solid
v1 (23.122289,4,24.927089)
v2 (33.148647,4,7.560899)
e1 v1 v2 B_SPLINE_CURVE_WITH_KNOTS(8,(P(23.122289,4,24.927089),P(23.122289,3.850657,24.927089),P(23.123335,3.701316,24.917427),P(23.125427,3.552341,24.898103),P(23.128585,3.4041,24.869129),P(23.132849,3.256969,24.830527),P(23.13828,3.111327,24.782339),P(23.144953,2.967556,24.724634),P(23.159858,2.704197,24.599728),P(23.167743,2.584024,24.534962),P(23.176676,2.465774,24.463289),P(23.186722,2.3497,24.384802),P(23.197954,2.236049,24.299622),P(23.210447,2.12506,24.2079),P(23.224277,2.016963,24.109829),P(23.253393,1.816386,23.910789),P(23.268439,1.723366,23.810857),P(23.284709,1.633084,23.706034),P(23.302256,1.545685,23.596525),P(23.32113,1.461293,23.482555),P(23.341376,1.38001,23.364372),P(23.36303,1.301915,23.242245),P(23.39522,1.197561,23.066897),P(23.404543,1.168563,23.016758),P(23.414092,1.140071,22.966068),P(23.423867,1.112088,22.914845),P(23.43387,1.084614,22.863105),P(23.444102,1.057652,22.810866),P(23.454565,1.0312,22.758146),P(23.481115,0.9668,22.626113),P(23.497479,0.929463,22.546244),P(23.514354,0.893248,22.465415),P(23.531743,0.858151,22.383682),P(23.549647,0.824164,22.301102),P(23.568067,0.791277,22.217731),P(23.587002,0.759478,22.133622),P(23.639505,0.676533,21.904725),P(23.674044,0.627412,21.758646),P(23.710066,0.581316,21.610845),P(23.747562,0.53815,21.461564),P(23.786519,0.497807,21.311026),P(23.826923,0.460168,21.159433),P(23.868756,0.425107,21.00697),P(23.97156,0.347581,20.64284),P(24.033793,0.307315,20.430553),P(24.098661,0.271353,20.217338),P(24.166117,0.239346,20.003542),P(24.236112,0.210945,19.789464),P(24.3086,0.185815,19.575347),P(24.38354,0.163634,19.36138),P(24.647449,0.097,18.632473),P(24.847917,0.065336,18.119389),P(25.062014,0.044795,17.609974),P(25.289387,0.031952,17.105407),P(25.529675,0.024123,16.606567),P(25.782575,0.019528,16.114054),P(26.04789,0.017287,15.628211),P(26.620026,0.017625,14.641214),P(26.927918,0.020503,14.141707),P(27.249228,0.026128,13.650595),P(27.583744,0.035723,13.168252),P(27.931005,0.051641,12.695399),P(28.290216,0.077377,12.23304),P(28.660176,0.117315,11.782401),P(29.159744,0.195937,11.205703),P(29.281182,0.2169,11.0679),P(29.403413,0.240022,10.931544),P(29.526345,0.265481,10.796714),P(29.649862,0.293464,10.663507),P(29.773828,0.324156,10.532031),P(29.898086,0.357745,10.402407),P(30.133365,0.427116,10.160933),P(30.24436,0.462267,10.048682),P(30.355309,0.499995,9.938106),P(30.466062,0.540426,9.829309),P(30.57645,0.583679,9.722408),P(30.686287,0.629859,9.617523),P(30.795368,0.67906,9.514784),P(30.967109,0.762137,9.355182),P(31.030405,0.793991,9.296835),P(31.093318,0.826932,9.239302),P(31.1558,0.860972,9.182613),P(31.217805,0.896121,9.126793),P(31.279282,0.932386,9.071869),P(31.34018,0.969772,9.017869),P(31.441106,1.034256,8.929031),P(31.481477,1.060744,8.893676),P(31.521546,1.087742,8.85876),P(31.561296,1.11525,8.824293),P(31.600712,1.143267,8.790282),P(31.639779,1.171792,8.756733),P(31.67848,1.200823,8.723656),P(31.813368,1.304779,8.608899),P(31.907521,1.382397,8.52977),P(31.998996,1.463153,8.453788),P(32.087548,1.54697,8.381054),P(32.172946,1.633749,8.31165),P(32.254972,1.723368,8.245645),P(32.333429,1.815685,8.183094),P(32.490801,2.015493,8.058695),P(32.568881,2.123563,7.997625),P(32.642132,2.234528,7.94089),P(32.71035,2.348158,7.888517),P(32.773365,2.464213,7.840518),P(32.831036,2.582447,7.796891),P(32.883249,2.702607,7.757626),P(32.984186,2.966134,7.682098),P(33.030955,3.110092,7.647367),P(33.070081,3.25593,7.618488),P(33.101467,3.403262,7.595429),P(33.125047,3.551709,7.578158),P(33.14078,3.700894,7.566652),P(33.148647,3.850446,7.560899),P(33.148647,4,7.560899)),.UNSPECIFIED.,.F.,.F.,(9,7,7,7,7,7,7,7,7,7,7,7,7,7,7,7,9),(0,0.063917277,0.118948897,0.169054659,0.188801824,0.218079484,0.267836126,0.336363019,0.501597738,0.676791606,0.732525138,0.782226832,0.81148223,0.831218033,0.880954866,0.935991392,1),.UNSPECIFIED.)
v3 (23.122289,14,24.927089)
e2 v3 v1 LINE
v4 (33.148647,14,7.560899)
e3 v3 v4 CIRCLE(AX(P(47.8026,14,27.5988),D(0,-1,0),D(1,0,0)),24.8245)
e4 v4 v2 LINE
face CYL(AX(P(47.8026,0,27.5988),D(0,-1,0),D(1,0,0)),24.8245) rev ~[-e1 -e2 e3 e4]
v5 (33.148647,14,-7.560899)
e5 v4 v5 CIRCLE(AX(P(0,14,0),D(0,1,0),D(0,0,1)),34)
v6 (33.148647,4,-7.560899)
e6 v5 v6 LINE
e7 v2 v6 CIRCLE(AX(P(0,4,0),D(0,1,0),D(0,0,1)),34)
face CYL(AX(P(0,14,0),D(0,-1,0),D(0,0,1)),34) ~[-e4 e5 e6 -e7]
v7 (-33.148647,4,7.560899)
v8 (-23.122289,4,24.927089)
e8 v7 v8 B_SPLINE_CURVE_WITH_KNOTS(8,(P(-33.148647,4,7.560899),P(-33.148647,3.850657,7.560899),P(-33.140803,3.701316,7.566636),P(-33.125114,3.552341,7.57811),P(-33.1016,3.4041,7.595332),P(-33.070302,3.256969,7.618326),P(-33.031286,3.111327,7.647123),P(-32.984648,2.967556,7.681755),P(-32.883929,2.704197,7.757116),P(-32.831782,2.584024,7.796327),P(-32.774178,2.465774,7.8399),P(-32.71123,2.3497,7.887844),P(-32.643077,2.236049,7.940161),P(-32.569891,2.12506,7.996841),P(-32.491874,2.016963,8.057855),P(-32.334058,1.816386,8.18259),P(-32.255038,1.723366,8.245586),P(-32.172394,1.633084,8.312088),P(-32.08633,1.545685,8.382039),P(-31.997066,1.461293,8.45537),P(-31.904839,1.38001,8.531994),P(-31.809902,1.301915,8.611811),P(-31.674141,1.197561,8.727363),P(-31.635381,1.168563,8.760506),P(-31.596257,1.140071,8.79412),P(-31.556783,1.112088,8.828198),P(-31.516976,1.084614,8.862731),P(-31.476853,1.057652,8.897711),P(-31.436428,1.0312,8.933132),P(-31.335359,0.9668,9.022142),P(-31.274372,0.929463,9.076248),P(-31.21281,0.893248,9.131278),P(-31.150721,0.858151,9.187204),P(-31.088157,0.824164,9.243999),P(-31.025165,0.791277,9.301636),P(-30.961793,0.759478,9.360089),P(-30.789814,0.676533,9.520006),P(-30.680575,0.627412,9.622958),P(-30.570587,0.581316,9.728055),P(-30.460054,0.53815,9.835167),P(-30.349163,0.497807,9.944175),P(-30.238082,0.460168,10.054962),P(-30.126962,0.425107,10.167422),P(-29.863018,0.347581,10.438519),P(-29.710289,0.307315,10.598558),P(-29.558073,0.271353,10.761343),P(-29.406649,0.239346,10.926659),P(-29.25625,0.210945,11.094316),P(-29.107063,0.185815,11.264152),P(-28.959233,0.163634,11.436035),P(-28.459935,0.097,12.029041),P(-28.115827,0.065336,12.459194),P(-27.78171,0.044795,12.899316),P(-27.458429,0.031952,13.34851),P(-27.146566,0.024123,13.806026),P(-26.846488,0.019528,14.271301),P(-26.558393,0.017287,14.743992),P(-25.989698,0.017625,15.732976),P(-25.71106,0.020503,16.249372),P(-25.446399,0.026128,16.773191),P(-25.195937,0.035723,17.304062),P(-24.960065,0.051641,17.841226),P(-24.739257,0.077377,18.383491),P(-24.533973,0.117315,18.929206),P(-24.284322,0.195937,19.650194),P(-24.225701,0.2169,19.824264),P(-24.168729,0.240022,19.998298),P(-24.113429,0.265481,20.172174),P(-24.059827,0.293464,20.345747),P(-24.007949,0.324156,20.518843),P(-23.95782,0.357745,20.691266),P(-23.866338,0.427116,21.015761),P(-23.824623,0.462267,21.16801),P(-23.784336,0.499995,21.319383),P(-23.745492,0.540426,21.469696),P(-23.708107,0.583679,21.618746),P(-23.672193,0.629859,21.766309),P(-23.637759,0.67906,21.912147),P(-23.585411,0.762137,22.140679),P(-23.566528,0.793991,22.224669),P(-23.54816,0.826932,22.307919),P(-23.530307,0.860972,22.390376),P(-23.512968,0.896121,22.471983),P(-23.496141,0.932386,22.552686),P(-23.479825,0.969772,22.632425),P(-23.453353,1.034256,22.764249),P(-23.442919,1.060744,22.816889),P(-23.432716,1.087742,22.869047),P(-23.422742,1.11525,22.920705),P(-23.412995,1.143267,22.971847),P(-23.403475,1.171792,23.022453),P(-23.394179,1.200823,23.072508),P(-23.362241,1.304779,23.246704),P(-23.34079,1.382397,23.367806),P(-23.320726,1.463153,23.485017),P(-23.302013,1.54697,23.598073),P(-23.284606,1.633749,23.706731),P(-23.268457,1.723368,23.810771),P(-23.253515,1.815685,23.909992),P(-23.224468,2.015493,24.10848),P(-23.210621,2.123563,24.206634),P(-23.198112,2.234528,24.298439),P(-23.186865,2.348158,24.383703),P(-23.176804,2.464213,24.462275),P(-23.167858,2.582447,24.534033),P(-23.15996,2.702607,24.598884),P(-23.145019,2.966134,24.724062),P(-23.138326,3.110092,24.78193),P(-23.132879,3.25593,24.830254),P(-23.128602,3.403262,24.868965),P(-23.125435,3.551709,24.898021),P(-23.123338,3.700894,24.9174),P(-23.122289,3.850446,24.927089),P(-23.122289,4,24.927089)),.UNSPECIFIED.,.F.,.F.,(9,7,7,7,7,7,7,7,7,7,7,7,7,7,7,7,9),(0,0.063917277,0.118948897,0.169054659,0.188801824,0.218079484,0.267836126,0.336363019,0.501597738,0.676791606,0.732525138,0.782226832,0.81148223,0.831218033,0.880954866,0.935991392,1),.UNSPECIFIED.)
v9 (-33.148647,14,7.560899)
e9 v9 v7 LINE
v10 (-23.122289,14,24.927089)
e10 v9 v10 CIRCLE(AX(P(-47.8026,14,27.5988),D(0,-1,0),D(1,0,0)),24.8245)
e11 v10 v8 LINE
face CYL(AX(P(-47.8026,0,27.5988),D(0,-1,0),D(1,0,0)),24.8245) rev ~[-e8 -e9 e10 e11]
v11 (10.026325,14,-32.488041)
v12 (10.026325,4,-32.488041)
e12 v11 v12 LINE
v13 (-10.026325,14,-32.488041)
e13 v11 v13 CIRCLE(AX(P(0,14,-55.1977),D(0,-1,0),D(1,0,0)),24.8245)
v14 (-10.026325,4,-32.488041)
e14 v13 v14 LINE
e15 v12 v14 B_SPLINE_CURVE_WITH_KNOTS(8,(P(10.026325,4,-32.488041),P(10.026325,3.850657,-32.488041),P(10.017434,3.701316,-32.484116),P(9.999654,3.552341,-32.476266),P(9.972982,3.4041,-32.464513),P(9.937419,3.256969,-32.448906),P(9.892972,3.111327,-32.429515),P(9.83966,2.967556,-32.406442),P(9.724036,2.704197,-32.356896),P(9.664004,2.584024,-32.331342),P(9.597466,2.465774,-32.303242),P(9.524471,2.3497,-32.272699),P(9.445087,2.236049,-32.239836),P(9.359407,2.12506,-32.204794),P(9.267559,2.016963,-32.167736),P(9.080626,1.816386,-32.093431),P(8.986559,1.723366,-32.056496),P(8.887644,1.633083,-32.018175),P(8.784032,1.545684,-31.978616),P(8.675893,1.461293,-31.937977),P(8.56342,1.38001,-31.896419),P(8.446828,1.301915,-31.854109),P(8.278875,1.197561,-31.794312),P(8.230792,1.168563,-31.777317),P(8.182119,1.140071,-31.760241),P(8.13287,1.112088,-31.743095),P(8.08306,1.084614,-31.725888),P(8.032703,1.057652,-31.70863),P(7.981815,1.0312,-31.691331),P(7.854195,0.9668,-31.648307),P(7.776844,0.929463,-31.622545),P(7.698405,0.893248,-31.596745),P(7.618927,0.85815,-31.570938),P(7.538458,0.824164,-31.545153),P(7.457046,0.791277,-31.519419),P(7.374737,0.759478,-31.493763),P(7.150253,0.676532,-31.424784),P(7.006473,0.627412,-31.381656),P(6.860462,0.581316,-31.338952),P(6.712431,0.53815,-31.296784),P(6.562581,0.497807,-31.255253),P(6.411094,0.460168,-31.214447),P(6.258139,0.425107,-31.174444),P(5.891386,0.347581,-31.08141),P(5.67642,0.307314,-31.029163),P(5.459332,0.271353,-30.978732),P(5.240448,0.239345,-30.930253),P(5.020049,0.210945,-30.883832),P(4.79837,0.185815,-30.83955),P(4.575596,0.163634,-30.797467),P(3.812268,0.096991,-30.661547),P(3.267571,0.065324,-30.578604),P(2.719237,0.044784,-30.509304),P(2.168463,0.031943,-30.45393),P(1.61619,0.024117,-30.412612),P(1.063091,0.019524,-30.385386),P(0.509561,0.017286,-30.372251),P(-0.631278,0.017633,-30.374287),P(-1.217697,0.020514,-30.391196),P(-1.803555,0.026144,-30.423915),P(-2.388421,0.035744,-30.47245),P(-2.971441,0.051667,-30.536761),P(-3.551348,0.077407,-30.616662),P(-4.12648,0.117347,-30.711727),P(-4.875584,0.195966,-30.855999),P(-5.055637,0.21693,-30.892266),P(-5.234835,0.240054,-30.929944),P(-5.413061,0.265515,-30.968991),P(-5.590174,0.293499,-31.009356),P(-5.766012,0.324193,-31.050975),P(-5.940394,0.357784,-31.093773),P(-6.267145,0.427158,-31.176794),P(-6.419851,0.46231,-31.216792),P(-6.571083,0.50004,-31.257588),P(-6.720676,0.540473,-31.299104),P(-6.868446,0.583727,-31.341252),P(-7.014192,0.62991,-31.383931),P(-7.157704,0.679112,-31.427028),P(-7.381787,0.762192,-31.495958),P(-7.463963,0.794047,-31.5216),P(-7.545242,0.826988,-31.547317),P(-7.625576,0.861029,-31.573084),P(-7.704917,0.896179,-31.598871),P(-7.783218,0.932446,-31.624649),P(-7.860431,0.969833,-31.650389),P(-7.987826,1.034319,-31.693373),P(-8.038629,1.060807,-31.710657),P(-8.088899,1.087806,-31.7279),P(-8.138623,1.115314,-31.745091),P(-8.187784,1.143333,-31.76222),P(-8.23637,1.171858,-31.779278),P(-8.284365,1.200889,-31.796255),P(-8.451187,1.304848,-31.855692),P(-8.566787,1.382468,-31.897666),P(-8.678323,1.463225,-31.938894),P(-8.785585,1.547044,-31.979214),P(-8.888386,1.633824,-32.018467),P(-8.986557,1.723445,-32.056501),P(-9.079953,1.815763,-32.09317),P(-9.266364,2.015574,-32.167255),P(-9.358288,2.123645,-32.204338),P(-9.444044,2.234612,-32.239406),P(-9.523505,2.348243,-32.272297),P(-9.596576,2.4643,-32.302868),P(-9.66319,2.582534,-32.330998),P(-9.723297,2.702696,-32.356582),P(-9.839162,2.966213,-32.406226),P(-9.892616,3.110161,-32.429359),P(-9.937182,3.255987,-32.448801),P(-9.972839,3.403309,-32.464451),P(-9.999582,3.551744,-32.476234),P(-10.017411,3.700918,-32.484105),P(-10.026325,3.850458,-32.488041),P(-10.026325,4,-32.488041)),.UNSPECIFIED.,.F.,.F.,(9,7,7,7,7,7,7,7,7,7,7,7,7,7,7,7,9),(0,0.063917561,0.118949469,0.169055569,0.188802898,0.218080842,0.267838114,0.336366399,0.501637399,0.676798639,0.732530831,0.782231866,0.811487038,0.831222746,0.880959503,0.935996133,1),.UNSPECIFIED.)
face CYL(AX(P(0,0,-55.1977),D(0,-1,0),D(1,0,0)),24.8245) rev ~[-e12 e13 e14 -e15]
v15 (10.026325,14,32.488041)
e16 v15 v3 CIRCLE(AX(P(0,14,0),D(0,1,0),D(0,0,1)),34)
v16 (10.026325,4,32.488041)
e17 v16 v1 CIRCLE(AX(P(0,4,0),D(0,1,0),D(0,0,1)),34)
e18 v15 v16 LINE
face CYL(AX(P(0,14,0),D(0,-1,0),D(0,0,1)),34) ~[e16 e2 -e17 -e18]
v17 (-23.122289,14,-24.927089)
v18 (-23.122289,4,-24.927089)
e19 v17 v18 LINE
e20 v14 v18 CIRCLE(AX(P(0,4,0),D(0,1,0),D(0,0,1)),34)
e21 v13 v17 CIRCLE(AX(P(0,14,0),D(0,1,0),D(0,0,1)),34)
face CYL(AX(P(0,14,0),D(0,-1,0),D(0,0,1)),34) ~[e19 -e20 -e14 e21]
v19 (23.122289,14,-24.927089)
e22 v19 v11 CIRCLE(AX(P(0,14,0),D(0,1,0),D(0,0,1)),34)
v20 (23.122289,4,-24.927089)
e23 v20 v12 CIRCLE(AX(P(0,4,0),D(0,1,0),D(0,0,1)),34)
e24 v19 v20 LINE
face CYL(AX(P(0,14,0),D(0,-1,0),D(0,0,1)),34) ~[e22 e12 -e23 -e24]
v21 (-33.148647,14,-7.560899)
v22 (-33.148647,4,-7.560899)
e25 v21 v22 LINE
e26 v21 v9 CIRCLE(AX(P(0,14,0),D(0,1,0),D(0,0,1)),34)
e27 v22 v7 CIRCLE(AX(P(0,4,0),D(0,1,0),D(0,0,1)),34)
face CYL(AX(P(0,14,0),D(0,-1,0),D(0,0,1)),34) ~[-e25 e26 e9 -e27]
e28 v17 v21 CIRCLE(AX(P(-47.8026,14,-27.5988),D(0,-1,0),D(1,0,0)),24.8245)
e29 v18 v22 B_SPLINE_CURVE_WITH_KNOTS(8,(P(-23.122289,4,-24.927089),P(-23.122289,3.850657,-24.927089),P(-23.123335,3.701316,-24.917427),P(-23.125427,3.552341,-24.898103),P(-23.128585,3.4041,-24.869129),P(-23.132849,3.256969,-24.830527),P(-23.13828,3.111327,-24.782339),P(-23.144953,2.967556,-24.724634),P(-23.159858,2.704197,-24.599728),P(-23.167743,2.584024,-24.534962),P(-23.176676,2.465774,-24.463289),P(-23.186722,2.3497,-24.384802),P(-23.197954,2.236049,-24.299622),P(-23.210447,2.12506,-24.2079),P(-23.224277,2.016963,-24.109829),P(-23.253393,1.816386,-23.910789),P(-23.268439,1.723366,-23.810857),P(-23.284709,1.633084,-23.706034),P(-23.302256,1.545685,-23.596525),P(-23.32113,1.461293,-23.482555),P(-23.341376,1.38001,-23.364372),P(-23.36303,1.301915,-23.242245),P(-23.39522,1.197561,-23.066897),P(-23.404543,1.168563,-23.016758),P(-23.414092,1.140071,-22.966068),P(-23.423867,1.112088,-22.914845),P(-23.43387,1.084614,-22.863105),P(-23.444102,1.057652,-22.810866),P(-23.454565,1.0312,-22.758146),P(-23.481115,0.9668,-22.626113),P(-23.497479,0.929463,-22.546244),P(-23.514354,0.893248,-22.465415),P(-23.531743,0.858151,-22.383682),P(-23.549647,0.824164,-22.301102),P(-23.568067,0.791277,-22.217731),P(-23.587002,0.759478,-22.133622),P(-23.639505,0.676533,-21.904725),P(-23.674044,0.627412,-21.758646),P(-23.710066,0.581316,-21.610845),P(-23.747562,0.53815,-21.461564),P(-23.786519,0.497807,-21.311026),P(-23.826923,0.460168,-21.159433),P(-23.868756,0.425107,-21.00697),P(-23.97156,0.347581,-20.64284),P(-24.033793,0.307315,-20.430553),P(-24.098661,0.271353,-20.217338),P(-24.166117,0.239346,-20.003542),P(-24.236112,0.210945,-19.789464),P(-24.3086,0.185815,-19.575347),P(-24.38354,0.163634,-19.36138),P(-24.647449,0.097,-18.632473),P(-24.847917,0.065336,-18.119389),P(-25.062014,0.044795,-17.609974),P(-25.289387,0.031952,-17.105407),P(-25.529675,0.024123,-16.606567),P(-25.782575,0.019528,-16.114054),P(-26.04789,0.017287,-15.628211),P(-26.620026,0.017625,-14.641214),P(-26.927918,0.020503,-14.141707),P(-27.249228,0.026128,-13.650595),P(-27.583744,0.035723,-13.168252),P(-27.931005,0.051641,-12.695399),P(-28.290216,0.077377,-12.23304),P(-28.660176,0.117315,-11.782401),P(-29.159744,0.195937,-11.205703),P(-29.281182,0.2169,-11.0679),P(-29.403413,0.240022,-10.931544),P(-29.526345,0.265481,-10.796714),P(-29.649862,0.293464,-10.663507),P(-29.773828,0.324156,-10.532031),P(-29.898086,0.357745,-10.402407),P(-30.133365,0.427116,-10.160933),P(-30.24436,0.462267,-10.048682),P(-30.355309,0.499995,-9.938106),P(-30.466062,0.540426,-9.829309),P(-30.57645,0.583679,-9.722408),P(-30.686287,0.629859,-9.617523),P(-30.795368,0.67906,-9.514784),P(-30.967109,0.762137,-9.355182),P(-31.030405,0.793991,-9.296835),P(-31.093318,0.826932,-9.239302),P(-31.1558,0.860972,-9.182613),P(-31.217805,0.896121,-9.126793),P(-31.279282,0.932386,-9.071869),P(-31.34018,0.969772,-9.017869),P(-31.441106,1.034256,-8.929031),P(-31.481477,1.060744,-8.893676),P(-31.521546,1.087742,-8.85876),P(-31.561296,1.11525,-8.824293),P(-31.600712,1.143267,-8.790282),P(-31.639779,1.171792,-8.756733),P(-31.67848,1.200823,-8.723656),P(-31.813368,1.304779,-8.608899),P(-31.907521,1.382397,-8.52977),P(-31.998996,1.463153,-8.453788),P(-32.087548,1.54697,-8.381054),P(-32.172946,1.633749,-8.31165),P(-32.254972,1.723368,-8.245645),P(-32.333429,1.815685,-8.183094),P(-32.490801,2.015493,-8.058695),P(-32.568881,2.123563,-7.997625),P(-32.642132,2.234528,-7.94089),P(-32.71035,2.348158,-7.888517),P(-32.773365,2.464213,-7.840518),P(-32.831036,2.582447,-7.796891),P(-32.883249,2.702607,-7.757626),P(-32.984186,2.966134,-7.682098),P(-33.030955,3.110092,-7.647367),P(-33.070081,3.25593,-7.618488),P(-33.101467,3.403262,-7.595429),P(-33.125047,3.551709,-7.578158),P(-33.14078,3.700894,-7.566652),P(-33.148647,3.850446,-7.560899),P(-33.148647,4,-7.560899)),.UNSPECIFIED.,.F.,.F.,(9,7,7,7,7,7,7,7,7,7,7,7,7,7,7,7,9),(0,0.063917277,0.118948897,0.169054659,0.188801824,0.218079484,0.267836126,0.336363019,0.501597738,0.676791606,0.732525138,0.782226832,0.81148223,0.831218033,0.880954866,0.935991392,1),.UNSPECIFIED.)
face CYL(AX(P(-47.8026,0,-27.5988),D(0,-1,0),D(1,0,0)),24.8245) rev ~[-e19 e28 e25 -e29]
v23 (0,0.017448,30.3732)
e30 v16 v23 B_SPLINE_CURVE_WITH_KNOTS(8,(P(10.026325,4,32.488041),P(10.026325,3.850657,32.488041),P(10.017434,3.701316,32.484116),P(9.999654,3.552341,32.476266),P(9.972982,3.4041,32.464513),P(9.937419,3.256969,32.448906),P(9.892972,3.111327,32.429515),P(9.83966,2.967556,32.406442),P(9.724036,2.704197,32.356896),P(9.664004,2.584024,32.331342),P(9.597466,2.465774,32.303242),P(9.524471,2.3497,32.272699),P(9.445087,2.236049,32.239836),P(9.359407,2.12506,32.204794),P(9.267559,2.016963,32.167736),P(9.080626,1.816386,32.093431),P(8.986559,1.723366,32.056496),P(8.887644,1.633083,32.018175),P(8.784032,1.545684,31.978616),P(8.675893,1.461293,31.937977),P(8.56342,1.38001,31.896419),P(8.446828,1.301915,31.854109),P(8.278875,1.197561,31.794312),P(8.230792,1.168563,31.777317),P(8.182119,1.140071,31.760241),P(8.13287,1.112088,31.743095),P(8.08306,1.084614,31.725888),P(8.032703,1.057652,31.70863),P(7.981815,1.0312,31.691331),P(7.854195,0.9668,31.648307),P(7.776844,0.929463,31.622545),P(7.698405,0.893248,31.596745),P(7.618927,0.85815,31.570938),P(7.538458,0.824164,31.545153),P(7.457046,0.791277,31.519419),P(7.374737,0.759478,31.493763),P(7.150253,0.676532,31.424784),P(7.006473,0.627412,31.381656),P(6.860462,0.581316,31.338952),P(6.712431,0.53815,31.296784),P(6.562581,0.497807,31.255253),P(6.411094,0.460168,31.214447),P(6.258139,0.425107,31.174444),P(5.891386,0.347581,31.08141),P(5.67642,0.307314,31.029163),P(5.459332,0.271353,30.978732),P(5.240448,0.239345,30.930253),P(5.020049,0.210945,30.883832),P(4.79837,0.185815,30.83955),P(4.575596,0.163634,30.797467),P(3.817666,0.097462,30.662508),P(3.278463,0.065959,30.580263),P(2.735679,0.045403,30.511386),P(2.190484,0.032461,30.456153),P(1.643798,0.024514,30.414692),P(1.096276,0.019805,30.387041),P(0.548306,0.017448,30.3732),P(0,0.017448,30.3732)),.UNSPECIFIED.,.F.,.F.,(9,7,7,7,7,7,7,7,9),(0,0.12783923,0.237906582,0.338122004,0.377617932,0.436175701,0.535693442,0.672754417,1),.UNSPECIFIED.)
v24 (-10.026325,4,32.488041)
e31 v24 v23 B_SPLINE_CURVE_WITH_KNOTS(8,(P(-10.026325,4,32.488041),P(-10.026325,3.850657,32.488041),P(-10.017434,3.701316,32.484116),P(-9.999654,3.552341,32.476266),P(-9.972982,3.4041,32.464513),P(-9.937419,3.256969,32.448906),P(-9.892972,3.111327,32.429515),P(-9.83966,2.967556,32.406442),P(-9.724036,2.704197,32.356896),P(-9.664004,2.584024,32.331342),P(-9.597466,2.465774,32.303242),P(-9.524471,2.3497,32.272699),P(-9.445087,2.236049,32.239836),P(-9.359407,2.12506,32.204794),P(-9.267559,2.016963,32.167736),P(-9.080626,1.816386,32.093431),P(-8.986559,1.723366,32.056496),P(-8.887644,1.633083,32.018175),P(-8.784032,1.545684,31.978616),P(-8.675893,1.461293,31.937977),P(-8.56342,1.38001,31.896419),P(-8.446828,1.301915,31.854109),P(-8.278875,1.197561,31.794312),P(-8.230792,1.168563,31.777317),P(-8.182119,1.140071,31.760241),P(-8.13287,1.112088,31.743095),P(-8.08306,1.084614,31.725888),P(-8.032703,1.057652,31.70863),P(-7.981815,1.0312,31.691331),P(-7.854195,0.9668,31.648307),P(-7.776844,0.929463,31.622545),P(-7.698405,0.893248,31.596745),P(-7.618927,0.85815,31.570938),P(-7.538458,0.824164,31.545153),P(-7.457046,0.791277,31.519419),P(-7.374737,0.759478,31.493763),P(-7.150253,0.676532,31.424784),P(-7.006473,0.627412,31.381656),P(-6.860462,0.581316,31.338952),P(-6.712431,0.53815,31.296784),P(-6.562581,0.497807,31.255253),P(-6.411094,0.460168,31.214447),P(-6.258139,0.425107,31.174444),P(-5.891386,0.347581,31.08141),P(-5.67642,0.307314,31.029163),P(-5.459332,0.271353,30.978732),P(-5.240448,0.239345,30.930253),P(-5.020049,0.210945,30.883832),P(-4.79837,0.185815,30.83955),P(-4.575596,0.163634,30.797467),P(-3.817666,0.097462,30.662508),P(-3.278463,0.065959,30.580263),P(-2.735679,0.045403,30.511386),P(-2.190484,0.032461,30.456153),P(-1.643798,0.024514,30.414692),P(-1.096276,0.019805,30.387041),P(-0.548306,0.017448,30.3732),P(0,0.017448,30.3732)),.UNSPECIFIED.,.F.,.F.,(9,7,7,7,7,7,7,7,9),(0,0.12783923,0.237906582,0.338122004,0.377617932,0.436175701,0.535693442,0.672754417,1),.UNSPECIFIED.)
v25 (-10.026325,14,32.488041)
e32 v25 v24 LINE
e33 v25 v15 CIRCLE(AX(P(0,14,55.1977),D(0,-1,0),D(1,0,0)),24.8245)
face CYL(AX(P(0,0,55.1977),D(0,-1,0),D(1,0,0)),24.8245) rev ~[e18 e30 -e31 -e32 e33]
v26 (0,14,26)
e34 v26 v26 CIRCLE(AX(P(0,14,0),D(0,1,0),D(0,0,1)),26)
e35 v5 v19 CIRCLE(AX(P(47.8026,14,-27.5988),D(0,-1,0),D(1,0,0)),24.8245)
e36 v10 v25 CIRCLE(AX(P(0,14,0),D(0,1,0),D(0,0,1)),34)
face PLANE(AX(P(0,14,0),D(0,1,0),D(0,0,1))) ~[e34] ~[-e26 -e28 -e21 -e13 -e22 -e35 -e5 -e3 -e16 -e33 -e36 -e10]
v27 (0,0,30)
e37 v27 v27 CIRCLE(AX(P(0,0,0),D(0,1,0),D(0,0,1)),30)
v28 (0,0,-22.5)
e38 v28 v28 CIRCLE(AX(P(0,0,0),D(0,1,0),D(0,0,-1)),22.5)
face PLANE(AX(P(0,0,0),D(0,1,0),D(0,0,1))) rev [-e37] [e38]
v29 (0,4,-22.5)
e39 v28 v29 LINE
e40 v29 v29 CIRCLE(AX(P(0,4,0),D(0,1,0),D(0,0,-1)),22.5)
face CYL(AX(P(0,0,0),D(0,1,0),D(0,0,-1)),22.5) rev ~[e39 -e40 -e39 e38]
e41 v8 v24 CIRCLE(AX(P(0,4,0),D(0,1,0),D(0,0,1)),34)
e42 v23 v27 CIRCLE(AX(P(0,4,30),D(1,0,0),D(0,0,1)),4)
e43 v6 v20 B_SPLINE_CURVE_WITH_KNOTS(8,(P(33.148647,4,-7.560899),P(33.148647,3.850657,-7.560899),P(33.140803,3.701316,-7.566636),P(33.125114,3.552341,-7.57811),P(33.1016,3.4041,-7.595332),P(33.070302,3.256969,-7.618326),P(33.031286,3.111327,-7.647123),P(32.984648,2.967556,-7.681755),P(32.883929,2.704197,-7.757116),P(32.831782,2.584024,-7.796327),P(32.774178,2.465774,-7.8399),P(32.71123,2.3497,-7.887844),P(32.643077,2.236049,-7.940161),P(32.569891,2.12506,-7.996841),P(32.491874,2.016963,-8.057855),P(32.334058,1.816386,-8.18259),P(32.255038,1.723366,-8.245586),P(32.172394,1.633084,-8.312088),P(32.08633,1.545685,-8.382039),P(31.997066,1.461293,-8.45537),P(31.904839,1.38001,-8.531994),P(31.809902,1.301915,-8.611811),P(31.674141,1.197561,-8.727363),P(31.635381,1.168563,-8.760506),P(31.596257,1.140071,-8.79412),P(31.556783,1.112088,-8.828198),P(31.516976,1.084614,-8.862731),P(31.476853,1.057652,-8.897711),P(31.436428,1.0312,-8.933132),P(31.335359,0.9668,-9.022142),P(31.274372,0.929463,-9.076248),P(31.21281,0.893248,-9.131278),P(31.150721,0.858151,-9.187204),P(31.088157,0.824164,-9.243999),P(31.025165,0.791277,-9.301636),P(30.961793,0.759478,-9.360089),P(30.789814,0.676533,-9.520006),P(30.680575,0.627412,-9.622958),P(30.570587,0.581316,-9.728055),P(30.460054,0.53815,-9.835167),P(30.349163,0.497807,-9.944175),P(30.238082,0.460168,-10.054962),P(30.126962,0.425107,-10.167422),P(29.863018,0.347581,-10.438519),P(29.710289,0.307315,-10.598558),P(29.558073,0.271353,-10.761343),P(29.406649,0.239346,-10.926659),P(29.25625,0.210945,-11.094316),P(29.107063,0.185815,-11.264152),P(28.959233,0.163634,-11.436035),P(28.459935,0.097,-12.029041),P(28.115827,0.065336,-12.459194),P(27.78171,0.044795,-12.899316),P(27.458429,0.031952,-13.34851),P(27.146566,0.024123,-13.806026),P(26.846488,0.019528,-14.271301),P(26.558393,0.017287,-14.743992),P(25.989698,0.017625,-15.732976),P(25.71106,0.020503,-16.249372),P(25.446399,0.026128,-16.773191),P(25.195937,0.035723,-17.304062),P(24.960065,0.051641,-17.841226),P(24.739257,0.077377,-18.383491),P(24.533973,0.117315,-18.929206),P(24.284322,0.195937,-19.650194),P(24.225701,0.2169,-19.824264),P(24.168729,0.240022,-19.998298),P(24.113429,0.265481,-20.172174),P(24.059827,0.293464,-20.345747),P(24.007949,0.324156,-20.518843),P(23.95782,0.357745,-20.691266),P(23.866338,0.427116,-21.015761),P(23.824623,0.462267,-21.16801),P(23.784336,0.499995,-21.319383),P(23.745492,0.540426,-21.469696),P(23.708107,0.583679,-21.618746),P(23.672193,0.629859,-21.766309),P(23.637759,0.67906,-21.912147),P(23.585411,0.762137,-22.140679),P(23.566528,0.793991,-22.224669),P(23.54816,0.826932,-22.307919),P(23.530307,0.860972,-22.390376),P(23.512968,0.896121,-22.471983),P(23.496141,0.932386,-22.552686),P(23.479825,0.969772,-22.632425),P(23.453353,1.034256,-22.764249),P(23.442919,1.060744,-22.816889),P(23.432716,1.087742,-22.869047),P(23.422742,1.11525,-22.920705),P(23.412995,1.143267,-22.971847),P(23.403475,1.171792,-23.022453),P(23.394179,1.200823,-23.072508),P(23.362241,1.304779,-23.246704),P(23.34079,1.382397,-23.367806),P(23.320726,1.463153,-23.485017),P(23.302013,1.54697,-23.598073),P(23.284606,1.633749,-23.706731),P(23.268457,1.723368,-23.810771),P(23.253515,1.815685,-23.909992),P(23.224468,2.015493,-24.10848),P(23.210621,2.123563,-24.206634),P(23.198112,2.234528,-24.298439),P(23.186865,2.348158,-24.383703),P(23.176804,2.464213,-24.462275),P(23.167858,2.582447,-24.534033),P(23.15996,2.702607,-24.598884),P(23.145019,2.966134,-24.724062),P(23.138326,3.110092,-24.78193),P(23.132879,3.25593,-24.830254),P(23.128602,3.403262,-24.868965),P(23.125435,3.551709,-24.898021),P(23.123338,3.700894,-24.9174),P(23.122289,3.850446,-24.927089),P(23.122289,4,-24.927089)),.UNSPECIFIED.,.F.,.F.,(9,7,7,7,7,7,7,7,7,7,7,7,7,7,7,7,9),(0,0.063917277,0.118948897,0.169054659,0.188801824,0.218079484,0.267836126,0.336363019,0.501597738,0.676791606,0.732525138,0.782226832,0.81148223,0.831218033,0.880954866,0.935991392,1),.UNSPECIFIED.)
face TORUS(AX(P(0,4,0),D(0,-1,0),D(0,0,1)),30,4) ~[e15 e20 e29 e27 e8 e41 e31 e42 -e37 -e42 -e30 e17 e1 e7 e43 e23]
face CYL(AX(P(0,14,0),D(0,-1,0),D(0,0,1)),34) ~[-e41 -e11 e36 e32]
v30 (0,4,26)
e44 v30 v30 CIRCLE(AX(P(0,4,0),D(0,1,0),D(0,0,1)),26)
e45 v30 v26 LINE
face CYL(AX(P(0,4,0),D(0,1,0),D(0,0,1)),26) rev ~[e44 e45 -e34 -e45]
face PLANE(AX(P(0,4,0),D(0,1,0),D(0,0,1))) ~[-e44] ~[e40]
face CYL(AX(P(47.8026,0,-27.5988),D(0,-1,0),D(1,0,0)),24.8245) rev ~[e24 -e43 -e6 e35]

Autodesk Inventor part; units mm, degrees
ref_plane "YZ Plane" through (0, 0, 0) normal (1, 0, 0) x (0, 1, 0)
ref_plane "XZ Plane" through (0, 0, 0) normal (0, 1, 0) x (-1, 0, 0)
ref_plane "XY Plane" through (0, 0, 0) normal (0, 0, 1) x (1, 0, 0)
sketch "Эскиз1" plane through (0, 0, 0) normal (1, 0, 0) x (0, 1, 0)
  line L0 (0, 0) -> (0, 30)
  line L1 (0, 0) -> (4, 0)
  line L2 (4, 0) -> (4, 26)
  line L3 (4, 26) -> (14, 26)
  line L4 (14, 26) -> (14, 34)
  line L5 (14, 34) -> (4, 34)
  arc A0 (4, 34) -> (0, 30) centre (4, 30) ccw
  point P0 (0, 30)
  dimension "d2" = 4
revolve "Вращение1" add sketch "Эскиз1" angle 360 about axis through (0, 0, 0) along (0, 1, 0)
sketch "Эскиз2" plane through (0, 0, 0) normal (0, -1, 0) x (1, 0, 0)
  circle A0 centre (0, 0) radius 30 projected
sketch "Эскиз3" plane through (0, 0, 0) normal (0, -1, 0) x (1, 0, 0)
  circle A0 centre (0, 0) radius 30 projected
  circle A1 centre (0, 0) radius 30
hole "Отверстие1" at (0, 0, 0) direction (0, 1, 0) diameter 45 end through all
sketch "Эскиз4" plane through (0, 0, 0) normal (0, -1, 0) x (1, 0, 0)
  circle A0 centre (0, 0) radius 30 projected
  circle A1 centre (0, 55.1977) radius 24.8245
  circle A2 centre (47.8026, 27.5988) radius 24.8245
  circle A3 centre (47.8026, -27.5988) radius 24.8245
  circle A4 centre (0, -55.1977) radius 24.8245
  circle A5 centre (-47.8026, -27.5988) radius 24.8245
  circle A6 centre (-47.8026, 27.5988) radius 24.8245
  dimension "d18" = 360
extrude "Выдавливание1" cut sketch "Эскиз4" along normal through all both and the other way through all contours A1 | A2 | A3 | A4 | A5 | A6
thread "Резьба1" size "M52x5" class "6H" standard "ISO Metric profile" full length
properties part number "Крышка"
